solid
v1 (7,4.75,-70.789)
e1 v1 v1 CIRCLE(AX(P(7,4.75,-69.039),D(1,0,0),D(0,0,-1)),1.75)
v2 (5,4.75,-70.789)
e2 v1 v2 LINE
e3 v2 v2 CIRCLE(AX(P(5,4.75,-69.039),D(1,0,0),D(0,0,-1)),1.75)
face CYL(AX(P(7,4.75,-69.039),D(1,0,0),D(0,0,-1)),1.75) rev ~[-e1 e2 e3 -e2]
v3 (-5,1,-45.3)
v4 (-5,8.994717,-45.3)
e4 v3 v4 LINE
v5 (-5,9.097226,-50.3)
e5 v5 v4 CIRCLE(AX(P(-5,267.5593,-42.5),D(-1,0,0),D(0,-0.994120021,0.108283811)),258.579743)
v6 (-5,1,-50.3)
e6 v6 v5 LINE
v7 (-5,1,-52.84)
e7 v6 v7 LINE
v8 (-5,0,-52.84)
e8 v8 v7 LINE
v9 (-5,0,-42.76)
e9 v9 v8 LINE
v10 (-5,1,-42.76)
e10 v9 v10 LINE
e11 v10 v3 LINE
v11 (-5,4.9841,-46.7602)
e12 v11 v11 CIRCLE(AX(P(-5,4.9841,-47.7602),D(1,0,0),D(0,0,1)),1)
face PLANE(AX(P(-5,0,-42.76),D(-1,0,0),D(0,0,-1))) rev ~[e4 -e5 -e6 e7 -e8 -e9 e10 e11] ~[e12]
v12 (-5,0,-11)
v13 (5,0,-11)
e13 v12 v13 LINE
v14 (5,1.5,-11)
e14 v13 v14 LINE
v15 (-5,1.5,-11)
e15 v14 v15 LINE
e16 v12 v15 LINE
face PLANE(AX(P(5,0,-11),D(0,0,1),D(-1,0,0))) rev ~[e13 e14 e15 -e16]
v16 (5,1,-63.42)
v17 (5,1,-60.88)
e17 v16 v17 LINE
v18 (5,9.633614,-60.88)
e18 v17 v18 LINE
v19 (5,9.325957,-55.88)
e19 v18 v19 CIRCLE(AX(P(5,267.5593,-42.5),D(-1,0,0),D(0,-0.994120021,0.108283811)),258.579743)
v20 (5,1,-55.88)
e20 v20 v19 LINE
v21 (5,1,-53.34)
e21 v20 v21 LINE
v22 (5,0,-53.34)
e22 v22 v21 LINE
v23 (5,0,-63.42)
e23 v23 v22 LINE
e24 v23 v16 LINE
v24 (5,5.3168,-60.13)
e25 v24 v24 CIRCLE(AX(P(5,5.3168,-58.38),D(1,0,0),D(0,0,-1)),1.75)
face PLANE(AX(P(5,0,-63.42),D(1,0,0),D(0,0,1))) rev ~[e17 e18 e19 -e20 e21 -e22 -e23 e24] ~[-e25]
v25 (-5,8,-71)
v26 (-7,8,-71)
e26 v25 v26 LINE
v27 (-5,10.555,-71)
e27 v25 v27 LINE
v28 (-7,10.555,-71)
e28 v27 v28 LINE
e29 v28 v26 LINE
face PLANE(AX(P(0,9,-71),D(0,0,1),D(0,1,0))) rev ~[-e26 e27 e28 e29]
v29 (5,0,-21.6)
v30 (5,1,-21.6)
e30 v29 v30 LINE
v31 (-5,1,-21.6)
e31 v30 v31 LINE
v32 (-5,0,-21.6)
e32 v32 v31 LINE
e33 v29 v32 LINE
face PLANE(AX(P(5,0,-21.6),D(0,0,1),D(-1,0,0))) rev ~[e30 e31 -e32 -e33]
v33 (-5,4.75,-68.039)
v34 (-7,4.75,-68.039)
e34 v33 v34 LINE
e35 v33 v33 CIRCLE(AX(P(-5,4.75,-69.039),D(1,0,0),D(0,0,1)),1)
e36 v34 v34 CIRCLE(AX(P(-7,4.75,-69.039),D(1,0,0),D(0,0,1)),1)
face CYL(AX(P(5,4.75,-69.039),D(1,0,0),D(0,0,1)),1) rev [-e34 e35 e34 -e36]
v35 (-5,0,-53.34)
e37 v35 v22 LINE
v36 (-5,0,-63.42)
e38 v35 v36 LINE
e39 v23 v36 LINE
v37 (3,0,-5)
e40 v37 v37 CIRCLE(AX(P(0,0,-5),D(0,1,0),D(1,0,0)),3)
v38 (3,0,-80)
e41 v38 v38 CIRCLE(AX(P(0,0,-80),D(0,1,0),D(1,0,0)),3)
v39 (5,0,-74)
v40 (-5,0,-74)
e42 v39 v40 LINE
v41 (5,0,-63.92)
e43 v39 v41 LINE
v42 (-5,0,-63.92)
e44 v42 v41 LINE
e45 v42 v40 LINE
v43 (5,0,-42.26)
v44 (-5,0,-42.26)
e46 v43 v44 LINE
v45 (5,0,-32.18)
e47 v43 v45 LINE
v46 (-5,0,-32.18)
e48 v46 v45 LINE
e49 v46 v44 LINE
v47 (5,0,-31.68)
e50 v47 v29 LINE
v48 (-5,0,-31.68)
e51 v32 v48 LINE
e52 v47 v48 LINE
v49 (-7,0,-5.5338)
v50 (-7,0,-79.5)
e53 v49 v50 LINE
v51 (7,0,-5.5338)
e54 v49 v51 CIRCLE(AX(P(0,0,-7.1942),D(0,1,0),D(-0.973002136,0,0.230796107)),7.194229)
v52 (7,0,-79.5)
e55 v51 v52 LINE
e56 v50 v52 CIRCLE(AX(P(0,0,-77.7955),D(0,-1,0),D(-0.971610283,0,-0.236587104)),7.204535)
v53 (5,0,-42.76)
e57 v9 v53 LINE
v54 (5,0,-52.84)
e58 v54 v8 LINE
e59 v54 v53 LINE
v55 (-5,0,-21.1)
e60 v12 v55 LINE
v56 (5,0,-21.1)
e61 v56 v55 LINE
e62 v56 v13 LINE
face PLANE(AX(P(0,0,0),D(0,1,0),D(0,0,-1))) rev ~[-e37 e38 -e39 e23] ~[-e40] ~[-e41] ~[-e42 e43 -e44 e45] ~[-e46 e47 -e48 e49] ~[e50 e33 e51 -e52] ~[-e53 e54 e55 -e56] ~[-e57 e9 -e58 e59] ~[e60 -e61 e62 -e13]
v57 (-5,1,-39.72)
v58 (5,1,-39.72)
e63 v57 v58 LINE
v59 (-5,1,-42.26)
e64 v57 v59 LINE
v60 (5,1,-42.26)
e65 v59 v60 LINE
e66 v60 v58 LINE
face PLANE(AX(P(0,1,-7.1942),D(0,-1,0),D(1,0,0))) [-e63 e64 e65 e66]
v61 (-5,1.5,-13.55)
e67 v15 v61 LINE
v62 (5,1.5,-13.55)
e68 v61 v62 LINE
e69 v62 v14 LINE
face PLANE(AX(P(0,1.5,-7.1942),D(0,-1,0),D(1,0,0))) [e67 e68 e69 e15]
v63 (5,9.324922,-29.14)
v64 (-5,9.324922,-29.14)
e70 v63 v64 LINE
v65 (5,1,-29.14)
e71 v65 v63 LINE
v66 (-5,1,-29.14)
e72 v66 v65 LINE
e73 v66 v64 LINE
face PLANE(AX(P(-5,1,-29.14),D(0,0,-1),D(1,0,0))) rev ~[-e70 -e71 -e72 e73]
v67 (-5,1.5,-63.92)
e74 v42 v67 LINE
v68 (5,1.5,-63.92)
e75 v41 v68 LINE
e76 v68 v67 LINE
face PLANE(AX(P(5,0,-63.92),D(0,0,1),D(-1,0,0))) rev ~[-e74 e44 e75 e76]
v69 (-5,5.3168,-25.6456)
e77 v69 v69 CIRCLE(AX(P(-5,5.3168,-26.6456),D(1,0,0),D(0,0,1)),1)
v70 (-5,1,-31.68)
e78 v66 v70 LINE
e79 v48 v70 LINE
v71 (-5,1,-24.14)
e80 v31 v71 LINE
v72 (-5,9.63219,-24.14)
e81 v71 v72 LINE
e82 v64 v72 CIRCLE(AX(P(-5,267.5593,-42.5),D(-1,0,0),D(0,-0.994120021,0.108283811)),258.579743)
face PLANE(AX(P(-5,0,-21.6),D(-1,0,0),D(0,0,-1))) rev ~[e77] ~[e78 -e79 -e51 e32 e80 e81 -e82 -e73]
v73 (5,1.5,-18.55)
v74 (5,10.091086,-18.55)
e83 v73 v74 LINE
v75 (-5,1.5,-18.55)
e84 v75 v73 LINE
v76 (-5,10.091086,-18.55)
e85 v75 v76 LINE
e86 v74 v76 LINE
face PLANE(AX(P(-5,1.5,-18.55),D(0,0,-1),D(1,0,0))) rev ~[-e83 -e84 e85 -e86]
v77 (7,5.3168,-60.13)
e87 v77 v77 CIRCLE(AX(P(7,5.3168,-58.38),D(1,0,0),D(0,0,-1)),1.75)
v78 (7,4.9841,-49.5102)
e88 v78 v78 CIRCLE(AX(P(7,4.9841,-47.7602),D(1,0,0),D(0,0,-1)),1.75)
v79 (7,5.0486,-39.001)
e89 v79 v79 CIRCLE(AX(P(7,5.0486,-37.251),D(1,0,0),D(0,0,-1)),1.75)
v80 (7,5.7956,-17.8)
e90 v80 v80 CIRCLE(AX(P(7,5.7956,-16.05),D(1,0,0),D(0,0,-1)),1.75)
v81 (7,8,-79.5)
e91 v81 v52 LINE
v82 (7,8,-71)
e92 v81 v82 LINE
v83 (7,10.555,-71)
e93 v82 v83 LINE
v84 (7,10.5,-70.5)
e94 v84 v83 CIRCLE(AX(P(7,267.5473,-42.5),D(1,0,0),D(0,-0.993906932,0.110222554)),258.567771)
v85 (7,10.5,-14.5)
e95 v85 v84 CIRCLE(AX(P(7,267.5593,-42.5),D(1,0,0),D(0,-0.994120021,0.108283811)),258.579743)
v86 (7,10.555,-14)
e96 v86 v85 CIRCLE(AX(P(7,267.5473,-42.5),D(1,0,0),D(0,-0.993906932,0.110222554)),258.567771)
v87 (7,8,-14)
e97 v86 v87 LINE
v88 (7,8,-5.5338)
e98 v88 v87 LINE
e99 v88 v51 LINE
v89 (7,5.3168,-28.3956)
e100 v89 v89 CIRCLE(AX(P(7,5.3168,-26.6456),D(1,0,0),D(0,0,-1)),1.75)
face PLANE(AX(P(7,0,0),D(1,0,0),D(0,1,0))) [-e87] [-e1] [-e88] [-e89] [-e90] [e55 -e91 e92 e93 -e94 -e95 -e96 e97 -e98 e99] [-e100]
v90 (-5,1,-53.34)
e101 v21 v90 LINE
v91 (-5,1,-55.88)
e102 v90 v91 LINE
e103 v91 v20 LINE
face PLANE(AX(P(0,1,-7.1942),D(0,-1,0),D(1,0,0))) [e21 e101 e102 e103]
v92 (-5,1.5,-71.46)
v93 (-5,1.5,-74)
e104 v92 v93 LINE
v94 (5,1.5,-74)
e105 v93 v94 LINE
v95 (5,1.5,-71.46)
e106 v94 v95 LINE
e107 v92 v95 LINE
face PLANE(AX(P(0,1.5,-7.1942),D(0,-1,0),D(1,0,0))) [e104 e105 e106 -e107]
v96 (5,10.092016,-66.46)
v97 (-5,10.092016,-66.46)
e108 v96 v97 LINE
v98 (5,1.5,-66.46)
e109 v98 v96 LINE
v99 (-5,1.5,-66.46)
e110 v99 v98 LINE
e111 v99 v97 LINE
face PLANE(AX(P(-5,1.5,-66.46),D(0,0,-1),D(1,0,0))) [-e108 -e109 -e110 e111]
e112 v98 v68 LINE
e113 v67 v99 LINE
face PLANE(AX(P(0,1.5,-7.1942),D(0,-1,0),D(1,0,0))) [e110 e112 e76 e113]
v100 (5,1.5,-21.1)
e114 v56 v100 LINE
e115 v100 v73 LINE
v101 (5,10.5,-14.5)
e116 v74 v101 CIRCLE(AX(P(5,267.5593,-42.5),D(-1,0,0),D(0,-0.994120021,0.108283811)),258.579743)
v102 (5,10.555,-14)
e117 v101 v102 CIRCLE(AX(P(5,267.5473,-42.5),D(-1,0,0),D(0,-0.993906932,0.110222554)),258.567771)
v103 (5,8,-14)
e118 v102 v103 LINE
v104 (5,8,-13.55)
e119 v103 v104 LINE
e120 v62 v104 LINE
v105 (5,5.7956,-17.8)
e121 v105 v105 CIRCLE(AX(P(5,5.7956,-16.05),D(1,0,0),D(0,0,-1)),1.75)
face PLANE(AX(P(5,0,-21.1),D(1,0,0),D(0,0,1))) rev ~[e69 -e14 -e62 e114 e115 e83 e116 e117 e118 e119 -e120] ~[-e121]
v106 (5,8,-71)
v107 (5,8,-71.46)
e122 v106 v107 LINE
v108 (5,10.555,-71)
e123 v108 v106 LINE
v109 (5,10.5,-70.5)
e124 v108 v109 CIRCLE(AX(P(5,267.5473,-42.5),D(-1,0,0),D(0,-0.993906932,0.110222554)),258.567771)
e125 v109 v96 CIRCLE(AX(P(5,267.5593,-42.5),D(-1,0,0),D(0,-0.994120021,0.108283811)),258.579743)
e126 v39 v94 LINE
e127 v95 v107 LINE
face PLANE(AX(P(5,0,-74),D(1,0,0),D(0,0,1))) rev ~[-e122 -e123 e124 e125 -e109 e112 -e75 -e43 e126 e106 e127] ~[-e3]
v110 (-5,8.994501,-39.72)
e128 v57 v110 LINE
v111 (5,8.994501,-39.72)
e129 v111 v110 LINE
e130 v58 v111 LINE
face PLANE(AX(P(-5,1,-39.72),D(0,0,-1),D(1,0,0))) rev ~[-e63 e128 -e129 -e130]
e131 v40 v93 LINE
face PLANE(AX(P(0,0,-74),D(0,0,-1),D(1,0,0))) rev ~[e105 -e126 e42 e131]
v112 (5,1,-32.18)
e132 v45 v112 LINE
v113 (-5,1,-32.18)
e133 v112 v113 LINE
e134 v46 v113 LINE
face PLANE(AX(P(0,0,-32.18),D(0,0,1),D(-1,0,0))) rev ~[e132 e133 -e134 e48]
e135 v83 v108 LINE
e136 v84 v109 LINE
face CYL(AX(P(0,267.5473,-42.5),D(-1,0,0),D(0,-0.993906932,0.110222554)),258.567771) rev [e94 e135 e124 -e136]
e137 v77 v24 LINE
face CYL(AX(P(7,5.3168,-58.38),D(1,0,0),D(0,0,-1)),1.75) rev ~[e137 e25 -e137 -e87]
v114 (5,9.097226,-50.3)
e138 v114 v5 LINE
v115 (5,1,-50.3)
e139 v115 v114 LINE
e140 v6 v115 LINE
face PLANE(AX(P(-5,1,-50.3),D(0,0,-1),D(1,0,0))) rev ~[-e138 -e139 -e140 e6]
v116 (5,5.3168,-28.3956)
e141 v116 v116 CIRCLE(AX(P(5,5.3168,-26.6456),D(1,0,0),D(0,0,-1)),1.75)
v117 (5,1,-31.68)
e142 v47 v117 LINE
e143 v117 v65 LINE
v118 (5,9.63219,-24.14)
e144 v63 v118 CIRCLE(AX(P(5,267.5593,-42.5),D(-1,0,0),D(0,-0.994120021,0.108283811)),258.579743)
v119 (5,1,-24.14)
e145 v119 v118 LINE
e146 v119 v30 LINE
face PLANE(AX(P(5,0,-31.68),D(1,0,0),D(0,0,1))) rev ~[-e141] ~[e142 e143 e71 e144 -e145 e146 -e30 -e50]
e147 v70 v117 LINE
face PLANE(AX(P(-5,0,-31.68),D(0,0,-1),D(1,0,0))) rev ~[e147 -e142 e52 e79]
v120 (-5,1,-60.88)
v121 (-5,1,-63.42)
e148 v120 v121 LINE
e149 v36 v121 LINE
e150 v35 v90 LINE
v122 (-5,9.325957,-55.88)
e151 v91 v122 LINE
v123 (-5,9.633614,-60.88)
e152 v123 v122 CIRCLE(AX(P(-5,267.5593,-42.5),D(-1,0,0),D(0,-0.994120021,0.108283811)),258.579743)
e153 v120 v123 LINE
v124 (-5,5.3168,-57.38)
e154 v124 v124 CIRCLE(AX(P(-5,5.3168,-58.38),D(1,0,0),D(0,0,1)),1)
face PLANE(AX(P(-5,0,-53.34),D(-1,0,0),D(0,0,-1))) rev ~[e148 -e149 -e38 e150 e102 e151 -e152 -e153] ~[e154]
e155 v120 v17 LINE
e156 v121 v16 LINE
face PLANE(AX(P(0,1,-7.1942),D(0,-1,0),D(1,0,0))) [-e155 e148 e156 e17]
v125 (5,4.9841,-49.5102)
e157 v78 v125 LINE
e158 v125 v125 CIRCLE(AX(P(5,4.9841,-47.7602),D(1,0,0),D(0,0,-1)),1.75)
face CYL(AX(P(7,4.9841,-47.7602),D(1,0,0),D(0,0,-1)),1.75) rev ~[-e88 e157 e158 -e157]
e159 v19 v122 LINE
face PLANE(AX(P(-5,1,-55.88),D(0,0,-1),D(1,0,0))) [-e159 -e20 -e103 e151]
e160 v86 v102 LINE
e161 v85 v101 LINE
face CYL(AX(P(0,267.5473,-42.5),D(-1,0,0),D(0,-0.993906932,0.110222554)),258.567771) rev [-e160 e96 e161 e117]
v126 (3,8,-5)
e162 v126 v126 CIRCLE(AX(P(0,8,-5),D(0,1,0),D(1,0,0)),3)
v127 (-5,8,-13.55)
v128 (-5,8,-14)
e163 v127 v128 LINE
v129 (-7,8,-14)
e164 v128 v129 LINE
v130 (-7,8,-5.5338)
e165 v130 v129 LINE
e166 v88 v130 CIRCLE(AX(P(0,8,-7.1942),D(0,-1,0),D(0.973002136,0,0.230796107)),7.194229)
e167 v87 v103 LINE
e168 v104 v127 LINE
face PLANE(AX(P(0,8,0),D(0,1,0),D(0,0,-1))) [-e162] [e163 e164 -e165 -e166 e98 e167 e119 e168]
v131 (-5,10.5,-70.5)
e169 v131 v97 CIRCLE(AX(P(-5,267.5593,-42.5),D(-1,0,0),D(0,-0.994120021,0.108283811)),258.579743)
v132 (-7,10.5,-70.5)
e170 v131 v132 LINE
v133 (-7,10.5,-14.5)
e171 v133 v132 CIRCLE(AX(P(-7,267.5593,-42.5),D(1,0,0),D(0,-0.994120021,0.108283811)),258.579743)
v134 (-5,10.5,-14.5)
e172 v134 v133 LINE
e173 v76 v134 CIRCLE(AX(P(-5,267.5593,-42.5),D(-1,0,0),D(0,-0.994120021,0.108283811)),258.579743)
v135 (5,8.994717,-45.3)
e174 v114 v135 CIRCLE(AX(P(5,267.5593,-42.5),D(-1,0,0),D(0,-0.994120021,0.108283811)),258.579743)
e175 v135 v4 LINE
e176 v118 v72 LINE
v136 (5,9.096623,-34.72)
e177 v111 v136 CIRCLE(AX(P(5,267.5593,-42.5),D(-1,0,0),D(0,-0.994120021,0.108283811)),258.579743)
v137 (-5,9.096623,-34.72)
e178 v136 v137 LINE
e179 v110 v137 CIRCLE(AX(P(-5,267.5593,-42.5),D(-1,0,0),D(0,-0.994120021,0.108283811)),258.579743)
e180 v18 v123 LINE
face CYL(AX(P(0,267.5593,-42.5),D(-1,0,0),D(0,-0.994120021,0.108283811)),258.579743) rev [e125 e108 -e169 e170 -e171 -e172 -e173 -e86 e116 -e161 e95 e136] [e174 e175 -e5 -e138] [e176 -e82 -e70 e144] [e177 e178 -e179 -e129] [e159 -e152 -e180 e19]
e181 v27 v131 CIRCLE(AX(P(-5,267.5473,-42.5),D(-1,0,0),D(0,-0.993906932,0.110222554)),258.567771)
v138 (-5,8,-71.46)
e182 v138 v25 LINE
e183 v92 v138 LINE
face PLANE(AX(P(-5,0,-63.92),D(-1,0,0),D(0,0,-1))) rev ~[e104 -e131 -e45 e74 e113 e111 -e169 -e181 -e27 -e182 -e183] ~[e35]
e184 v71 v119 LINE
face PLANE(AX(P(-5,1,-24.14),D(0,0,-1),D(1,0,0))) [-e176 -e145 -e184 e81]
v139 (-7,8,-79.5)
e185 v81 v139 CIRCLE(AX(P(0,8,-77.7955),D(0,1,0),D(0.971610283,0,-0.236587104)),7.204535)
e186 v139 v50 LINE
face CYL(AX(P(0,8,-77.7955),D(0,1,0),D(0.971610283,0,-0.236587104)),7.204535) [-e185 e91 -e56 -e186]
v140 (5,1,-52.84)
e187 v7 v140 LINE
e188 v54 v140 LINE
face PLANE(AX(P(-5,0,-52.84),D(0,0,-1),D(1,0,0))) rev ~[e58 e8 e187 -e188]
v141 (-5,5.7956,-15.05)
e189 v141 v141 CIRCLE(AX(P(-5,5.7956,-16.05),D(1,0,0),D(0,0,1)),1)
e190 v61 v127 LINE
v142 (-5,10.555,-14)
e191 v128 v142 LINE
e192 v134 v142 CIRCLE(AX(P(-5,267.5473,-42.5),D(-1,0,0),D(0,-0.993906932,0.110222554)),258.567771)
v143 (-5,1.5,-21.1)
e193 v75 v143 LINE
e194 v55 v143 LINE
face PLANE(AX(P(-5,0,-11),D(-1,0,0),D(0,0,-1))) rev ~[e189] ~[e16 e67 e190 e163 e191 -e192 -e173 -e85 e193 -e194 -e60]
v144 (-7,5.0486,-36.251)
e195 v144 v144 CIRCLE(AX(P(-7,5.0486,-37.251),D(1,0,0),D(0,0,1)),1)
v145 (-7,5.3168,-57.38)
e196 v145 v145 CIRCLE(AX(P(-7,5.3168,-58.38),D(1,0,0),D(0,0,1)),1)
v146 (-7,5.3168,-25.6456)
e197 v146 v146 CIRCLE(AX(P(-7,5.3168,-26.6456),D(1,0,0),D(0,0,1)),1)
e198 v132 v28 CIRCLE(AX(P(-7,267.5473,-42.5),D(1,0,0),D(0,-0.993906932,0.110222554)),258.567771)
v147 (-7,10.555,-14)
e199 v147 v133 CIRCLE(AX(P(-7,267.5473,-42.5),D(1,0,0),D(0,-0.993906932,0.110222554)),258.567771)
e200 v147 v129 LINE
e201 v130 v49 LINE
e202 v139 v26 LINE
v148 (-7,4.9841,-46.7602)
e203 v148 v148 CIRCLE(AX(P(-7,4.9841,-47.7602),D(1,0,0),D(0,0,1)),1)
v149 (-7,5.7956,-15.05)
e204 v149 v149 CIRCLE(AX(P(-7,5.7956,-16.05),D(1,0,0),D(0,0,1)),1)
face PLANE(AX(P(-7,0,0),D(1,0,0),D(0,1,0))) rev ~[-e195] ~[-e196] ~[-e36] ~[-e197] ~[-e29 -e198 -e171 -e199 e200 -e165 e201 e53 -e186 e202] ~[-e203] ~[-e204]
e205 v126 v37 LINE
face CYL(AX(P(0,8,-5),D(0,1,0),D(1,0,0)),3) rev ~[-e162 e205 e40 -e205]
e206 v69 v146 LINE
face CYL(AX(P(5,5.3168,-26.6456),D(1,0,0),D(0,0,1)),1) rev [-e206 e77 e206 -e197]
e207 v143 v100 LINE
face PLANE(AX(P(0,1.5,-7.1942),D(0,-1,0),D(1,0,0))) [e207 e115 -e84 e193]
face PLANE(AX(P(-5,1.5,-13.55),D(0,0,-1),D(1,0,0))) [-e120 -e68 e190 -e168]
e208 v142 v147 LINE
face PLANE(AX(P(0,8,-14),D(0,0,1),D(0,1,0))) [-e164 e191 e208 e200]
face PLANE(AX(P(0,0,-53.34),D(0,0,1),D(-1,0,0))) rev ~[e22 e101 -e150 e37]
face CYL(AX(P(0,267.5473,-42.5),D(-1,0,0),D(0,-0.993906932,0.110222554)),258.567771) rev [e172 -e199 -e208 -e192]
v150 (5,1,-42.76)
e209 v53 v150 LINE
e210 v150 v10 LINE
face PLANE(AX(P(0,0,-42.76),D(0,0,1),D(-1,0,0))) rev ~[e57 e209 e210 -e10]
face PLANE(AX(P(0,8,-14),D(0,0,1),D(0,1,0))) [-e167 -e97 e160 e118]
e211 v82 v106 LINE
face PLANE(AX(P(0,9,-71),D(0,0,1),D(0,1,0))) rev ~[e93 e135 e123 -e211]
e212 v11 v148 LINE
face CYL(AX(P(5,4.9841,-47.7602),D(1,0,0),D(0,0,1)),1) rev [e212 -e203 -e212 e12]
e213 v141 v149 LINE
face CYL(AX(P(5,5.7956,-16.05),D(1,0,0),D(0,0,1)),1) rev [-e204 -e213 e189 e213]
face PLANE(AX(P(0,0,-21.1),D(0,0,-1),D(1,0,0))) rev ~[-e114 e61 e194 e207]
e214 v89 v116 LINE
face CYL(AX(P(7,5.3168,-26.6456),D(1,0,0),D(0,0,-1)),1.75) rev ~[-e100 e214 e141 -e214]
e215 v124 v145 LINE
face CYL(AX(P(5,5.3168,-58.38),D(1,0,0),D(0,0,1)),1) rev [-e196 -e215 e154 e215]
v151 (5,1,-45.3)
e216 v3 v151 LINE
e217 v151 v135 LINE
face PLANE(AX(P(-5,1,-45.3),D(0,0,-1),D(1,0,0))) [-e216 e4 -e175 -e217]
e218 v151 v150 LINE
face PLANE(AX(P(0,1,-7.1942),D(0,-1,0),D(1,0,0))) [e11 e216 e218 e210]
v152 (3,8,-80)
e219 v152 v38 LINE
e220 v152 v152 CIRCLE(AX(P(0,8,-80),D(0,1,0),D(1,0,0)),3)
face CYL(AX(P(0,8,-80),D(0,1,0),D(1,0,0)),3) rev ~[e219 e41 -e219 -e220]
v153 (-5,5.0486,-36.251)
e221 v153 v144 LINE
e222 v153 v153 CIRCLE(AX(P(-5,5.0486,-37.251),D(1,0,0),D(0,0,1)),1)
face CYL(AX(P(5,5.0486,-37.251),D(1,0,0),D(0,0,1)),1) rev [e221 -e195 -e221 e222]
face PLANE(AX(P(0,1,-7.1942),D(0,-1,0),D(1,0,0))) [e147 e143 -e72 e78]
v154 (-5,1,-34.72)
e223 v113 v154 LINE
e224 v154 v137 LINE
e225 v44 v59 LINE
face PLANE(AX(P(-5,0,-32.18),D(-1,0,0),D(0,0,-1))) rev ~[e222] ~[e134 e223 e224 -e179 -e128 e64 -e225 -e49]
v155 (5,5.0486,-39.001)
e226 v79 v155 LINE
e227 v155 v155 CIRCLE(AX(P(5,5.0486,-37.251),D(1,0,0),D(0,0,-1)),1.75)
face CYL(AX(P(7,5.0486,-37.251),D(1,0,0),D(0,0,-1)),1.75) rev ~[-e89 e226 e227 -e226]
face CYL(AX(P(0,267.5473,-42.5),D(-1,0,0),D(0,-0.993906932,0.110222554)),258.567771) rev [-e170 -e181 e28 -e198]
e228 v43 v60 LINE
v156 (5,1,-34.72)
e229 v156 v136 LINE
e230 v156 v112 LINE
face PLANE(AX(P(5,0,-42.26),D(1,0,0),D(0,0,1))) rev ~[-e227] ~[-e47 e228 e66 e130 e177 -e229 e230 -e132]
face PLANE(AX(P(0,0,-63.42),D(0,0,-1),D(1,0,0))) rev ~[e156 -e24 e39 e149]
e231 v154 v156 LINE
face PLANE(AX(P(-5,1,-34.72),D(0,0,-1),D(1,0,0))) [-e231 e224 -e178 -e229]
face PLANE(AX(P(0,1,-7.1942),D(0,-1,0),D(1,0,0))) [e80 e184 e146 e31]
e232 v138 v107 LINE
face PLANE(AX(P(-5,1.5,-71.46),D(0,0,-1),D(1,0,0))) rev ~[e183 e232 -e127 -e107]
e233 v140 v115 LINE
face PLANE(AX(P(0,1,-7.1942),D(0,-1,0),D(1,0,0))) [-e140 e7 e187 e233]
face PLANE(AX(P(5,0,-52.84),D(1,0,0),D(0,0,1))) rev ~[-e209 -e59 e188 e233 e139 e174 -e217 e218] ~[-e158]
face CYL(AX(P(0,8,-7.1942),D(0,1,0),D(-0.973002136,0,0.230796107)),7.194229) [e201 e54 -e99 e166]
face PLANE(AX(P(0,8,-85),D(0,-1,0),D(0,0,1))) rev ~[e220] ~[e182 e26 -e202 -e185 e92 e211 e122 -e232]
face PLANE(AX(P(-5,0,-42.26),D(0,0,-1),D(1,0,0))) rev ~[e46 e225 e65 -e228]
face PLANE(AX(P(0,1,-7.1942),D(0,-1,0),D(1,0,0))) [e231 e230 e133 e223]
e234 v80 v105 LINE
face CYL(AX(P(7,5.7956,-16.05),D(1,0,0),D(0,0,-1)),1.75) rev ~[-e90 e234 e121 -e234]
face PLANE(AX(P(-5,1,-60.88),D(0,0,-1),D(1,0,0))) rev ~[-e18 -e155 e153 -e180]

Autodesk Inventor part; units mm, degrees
ref_plane "YZ Plane" through (0, 0, 0) normal (1, 0, 0) x (0, 1, 0)
ref_plane "XY Plane" through (0, 0, 0) normal (0, 0, 1) x (1, 0, 0)
sketch "Sketch1" plane through (0, 0, 0) normal (1, 0, 0) x (0, 1, 0)
  line L0 (0, 0) -> (0, -85)
  line L1 (0, -85) -> (8, -85)
  line L2 (0, 0) -> (8, 0)
  line L3 (8, 0) -> (8, -14)
  line L4 (8, -85) -> (8, -71)
  line L5 (8, -14) -> (9, -14)
  line L6 (8, -71) -> (9, -71)
  arc A0 (10.5, -14.5) -> (10.5, -70.5) centre (267.5593, -42.5) ccw
  line L7 (8, -71) -> (10.555, -71)
  line L8 (8, -14) -> (10.555, -14)
  arc A1 (10.555, -14) -> (10.555, -71) centre (267.5473, -42.5) ccw
extrude "Extrusion1" add sketch "Sketch1" along normal mid plane 14
sketch "Sketch2" plane through (-7, 8, 0) normal (0, 1, 0) x (1, 0, 0)
  line L0 (0, 85) -> (0, 0) projected
  line L1 (0, 14.0338) -> (0, 5.5338)
  line L2 (14, 0) -> (14, 85) projected
  line L3 (14, 14.0338) -> (14, 5.5338)
  arc A0 (0, 5.5338) -> (14, 5.5338) centre (7, 7.1942) ccw
  line L4 (0, 5.5338) -> (0, 0)
  line L5 (0, 0) -> (14, 0) projected
  line L6 (14, 0) -> (14, 5.5338)
  point P0 (7, 0)
  dimension "d13" = 8.5
extrude "Extrusion2" cut sketch "Sketch2" against normal blind 14
sketch "Sketch3" plane through (-7, 8, -71) normal (0, 1, 0) x (1, 0, 0)
  line L0 (0, 0) -> (14, 0) projected
  line L1 (0, 0) -> (0, 14) projected
  arc A0 (14, 8.5) -> (0, 8.5) centre (7, 6.7955) ccw
  line L2 (0, 8.5) -> (0, 14)
  line L3 (0, 14) -> (14, 14) projected
  line L4 (14, 14) -> (14, 8.5)
  line L5 (14, -65.4662) -> (14, 14) projected
  line L6 (0, 14) -> (0, 8.5)
  line L7 (14, 8.5) -> (14, 14)
  line L8 (14, 14) -> (0, 14)
  line L9 (0, 8.5) -> (0, 14)
  line L10 (0, 14) -> (14, 14) projected
  line L11 (14, 14) -> (14, 8.5)
  line L12 (14, 14) -> (14, 0) projected
  arc A1 (14, 8.5) -> (0, 8.5) centre (7, 6.7955) ccw
  point P0 (7, -71)
extrude "Extrusion3" cut sketch "Sketch3" against normal blind 14 contours L1 L3 A0 | A0 L3 L4
sketch "Sketch4" plane through (-7, 8, -71) normal (0, 1, 0) x (1, 0, 0)
  arc A0 (14, 8.5) -> (0, 8.5) centre (7, 6.7955) ccw projected
  line L0 (7, 0.0396) -> (7, 3.0396)
  circle A1 centre (7, 9) radius 3
  point P0 (7, -71)
extrude "Extrusion4" cut sketch "Sketch4" against normal blind 14
sketch "Sketch5" plane through (-7, 8, -14) normal (0, 1, 0) x (1, 0, 0)
  circle A0 centre (7, -9) radius 3
  point P0 (7, -14)
extrude "Extrusion5" cut sketch "Sketch5" against normal blind 14
sketch "Sketch7" plane through (0, 0, -7.1942) normal (0, -1, 0) x (1, 0, 0)
  circle A0 centre (0, 2.1942) radius 3 projected
  line L0 (0, -0.8058) -> (0, -3.8058)
  circle A1 centre (0, -72.8058) radius 3 projected
  line L1 (0, -69.8058) -> (0, -66.8058)
  line L2 (0, -66.8058) -> (-5, -66.8058)
  line L3 (-5, -66.8058) -> (5, -66.8058)
  line L4 (-5, -66.8058) -> (5, -66.8058)
  line L5 (5, -66.8058) -> (5, -56.7258)
  line L6 (5, -56.7258) -> (-5, -56.7258)
  line L7 (-5, -56.7258) -> (-5, -66.8058)
  line L8 (0, -56.7258) -> (0, -56.2258)
  line L9 (-5, -56.2258) -> (5, -56.2258)
  line L10 (5, -56.2258) -> (5, -46.1458)
  line L11 (5, -46.1458) -> (-5, -46.1458)
  line L12 (-5, -46.1458) -> (-5, -56.2258)
  line L13 (0, -46.1458) -> (0, -45.6458)
  line L14 (-5, -45.6458) -> (5, -45.6458)
  line L15 (5, -45.6458) -> (5, -35.5658)
  line L16 (5, -35.5658) -> (-5, -35.5658)
  line L17 (-5, -35.5658) -> (-5, -45.6458)
  line L18 (0, -35.5658) -> (0, -35.0658)
  line L19 (-5, -35.0658) -> (5, -35.0658)
  line L20 (5, -35.0658) -> (5, -24.9858)
  line L21 (5, -24.9858) -> (-5, -24.9858)
  line L22 (-5, -24.9858) -> (-5, -35.0658)
  line L23 (0, -24.9858) -> (0, -24.4858)
  line L24 (-5, -24.4858) -> (5, -24.4858)
  line L25 (5, -24.4858) -> (5, -14.4058)
  line L26 (5, -14.4058) -> (-5, -14.4058)
  line L27 (-5, -14.4058) -> (-5, -24.4858)
  line L28 (0, -14.4058) -> (0, -13.9058)
  line L29 (-5, -13.9058) -> (5, -13.9058)
  line L30 (5, -13.9058) -> (5, -3.8058)
  line L31 (5, -3.8058) -> (-5, -3.8058)
  line L32 (-5, -3.8058) -> (-5, -13.9058)
  point P0 (0, 7.1942)
extrude "Extrusion6" cut sketch "Sketch7" against normal blind 1.5 contours L6 L5 L3 L2 L7 | L31 L30 L29 L32
sketch "Sketch8" plane through (0, 0, -7.1942) normal (0, -1, 0) x (1, 0, 0)
  line L0 (-5, -56.7258) -> (5, -56.7258) projected
  line L1 (0, -56.7258) -> (0, -56.2258)
  line L2 (-5, -56.2258) -> (5, -56.2258)
  line L3 (5, -56.2258) -> (5, -46.1458)
  line L4 (5, -46.1458) -> (-5, -46.1458)
  line L5 (-5, -46.1458) -> (-5, -56.2258)
  line L6 (0, -46.1458) -> (0, -45.6458)
  line L7 (-5, -45.6458) -> (5, -45.6458)
  line L8 (5, -45.6458) -> (5, -35.5658)
  line L9 (5, -35.5658) -> (-5, -35.5658)
  line L10 (-5, -35.5658) -> (-5, -45.6458)
  line L11 (0, -35.5658) -> (0, -35.0658)
  line L12 (-5, -35.0658) -> (5, -35.0658)
  line L13 (5, -35.0658) -> (5, -24.9858)
  line L14 (5, -24.9858) -> (-5, -24.9858)
  line L15 (-5, -24.9858) -> (-5, -35.0658)
  line L16 (0, -24.9858) -> (0, -24.4858)
  line L17 (-5, -24.4858) -> (5, -24.4858)
  line L18 (5, -24.4858) -> (5, -14.4058)
  line L19 (5, -14.4058) -> (-5, -14.4058)
  line L20 (-5, -14.4058) -> (-5, -24.4858)
  point P0 (0, 7.1942)
  dimension "d75" = 0.5
  dimension "d76" = 10.08
  dimension "d77" = 0.5
  dimension "d78" = 10.08
  dimension "d79" = 0.5
  dimension "d80" = 10.08
  dimension "d81" = 0.5
  dimension "d82" = 10.08
extrude "Extrusion7" cut sketch "Sketch8" against normal blind 1
sketch "Sketch9" plane through (0, 1.5, -7.1942) normal (0, -1, 0) x (1, 0, 0)
  line L0 (-5, -66.8058) -> (-5, -56.7258) projected
  line L1 (5, -56.7258) -> (5, -66.8058) projected
  line L2 (-5, -59.2658) -> (5, -59.2658)
  line L3 (-5, -64.2658) -> (5, -64.2658)
  line L4 (-5, -64.2658) -> (-5, -59.2658)
  line L5 (5, -64.2658) -> (5, -59.2658)
  line L6 (5, -64.2658) -> (5, -59.2658)
  point P0 (0, 7.1942)
extrude "Extrusion8" cut sketch "Sketch9" against normal blind 20
sketch "Sketch10" plane through (0, 1, -7.1942) normal (0, -1, 0) x (1, 0, 0)
  line L0 (-5, -56.2258) -> (-5, -46.1458) projected
  line L1 (5, -46.1458) -> (5, -56.2258) projected
  line L2 (-5, -53.6858) -> (5, -53.6858)
  line L3 (-5, -48.6858) -> (5, -48.6858)
  line L4 (5, -48.6858) -> (5, -53.6858)
  line L5 (-5, -48.6858) -> (-5, -53.6858)
  point P0 (0, 7.1942)
  dimension "d109" = 5
extrude "Extrusion9" cut sketch "Sketch10" against normal blind 20
sketch "Sketch11" plane through (0, 1, -7.1942) normal (0, -1, 0) x (1, 0, 0)
  line L0 (-5, -45.6458) -> (-5, -35.5658) projected
  line L1 (5, -35.5658) -> (5, -45.6458) projected
  line L2 (-5, -43.1058) -> (5, -43.1058)
  line L3 (-5, -38.1058) -> (5, -38.1058)
  line L4 (5, -38.1058) -> (5, -43.1058)
  line L5 (-5, -38.1058) -> (-5, -43.1058)
  point P0 (0, 7.1942)
extrude "Extrusion10" cut sketch "Sketch11" against normal blind 20
sketch "Sketch12" plane through (0, 1, -7.1942) normal (0, -1, 0) x (1, 0, 0)
  line L0 (-5, -35.0658) -> (-5, -24.9858) projected
  line L1 (5, -24.9858) -> (5, -35.0658) projected
  line L2 (-5, -32.5258) -> (5, -32.5258)
  line L3 (-5, -27.5258) -> (5, -27.5258)
  line L4 (5, -27.5258) -> (5, -32.5258)
  line L5 (-5, -27.5258) -> (-5, -32.5258)
  point P0 (0, 7.1942)
extrude "Extrusion11" cut sketch "Sketch12" against normal blind 20
sketch "Sketch13" plane through (0, 1, -7.1942) normal (0, -1, 0) x (1, 0, 0)
  line L0 (-5, -24.4858) -> (-5, -14.4058) projected
  line L1 (-5, -21.9458) -> (5, -21.9458)
  line L2 (-5, -16.9458) -> (5, -16.9458)
  line L3 (5, -16.9458) -> (5, -21.9458)
  line L4 (5, -14.4058) -> (5, -24.4858) projected
  line L5 (-5, -16.9458) -> (-5, -21.9458)
  point P0 (0, 7.1942)
extrude "Extrusion12" cut sketch "Sketch13" against normal blind 20
sketch "Sketch14" plane through (0, 1.5, -7.1942) normal (0, -1, 0) x (1, 0, 0)
  line L0 (-5, -13.9058) -> (-5, -3.8058) projected
  line L1 (5, -3.8058) -> (5, -13.9058) projected
  line L2 (-5, -11.3558) -> (5, -11.3558)
  line L3 (-5, -6.3558) -> (5, -6.3558)
  line L4 (5, -6.3558) -> (5, -11.3558)
  line L5 (-5, -6.772) -> (-5, -11.3558)
  line L6 (-5, -6.3558) -> (-5, -11.3558)
  point P0 (0, 7.1942)
extrude "Extrusion13" cut sketch "Sketch14" against normal blind 20
ref_plane "Work Plane1" through (0, 8.9795, -42.5) normal (0, 1, 0) x (-1, 0, 0)
sketch "Sketch24" plane through (5, 0, -74) normal (-1, 0, 0) x (0, 0, 1)
  line L0 (7.54, 1.5) -> (7.54, 10.0921) projected
  line L1 (2.54, 8) -> (3, 8) projected
  circle A0 centre (4.961, 4.75) radius 1
  line L2 (13.12, 1) -> (13.12, 9.6336) projected
  line L3 (18.12, 1) -> (18.12, 9.326) projected
  circle A1 centre (15.62, 5.3168) radius 1
  line L4 (23.7, 1) -> (23.7, 9.0972) projected
  line L5 (28.7, 1) -> (28.7, 8.9947) projected
  circle A2 centre (26.2398, 4.9841) radius 1
  line L6 (34.28, 1) -> (31.74, 1) projected
  circle A3 centre (36.749, 5.0486) radius 1
  line L7 (44.86, 1) -> (42.32, 1) projected
  circle A4 centre (47.3544, 5.3168) radius 1
  line L8 (60.45, 1.5) -> (60.45, 8) projected
  line L9 (55.45, 1.5) -> (55.45, 10.0911) projected
  circle A5 centre (57.95, 5.7956) radius 1
  point P0 (74, 0)
  point P1 (2.54, 1.5)
extrude "Extrusion14" cut sketch "Sketch24" along normal mid plane 52
sketch "Sketch25" plane through (7, 0, 0) normal (1, 0, 0) x (0, 0, -1)
  circle A0 centre (69.039, 4.75) radius 1 projected
  circle A1 centre (58.38, 5.3168) radius 1 projected
  circle A2 centre (47.7602, 4.9841) radius 1 projected
  circle A3 centre (37.251, 5.0486) radius 1 projected
  circle A4 centre (26.6456, 5.3168) radius 1 projected
  circle A5 centre (16.05, 5.7956) radius 1 projected
  circle A6 centre (16.05, 5.7956) radius 1.75
  circle A7 centre (26.6456, 5.3168) radius 1.75
  circle A8 centre (37.251, 5.0486) radius 1.75
  circle A9 centre (47.7602, 4.9841) radius 1.75
  circle A10 centre (58.38, 5.3168) radius 1.75
  circle A11 centre (69.039, 4.75) radius 1 projected
  circle A12 centre (69.039, 4.75) radius 1.75
  point P0 (0, 0)
  dimension "d129" = 3.5
  dimension "d130" = 3.5
  dimension "d131" = 3.5
  dimension "d132" = 3.5
  dimension "d133" = 3.5
  dimension "d134" = 3.5
extrude "Extrusion15" cut sketch "Sketch25" against normal blind 5
properties part number "segurador das cordas" material "Steel"
